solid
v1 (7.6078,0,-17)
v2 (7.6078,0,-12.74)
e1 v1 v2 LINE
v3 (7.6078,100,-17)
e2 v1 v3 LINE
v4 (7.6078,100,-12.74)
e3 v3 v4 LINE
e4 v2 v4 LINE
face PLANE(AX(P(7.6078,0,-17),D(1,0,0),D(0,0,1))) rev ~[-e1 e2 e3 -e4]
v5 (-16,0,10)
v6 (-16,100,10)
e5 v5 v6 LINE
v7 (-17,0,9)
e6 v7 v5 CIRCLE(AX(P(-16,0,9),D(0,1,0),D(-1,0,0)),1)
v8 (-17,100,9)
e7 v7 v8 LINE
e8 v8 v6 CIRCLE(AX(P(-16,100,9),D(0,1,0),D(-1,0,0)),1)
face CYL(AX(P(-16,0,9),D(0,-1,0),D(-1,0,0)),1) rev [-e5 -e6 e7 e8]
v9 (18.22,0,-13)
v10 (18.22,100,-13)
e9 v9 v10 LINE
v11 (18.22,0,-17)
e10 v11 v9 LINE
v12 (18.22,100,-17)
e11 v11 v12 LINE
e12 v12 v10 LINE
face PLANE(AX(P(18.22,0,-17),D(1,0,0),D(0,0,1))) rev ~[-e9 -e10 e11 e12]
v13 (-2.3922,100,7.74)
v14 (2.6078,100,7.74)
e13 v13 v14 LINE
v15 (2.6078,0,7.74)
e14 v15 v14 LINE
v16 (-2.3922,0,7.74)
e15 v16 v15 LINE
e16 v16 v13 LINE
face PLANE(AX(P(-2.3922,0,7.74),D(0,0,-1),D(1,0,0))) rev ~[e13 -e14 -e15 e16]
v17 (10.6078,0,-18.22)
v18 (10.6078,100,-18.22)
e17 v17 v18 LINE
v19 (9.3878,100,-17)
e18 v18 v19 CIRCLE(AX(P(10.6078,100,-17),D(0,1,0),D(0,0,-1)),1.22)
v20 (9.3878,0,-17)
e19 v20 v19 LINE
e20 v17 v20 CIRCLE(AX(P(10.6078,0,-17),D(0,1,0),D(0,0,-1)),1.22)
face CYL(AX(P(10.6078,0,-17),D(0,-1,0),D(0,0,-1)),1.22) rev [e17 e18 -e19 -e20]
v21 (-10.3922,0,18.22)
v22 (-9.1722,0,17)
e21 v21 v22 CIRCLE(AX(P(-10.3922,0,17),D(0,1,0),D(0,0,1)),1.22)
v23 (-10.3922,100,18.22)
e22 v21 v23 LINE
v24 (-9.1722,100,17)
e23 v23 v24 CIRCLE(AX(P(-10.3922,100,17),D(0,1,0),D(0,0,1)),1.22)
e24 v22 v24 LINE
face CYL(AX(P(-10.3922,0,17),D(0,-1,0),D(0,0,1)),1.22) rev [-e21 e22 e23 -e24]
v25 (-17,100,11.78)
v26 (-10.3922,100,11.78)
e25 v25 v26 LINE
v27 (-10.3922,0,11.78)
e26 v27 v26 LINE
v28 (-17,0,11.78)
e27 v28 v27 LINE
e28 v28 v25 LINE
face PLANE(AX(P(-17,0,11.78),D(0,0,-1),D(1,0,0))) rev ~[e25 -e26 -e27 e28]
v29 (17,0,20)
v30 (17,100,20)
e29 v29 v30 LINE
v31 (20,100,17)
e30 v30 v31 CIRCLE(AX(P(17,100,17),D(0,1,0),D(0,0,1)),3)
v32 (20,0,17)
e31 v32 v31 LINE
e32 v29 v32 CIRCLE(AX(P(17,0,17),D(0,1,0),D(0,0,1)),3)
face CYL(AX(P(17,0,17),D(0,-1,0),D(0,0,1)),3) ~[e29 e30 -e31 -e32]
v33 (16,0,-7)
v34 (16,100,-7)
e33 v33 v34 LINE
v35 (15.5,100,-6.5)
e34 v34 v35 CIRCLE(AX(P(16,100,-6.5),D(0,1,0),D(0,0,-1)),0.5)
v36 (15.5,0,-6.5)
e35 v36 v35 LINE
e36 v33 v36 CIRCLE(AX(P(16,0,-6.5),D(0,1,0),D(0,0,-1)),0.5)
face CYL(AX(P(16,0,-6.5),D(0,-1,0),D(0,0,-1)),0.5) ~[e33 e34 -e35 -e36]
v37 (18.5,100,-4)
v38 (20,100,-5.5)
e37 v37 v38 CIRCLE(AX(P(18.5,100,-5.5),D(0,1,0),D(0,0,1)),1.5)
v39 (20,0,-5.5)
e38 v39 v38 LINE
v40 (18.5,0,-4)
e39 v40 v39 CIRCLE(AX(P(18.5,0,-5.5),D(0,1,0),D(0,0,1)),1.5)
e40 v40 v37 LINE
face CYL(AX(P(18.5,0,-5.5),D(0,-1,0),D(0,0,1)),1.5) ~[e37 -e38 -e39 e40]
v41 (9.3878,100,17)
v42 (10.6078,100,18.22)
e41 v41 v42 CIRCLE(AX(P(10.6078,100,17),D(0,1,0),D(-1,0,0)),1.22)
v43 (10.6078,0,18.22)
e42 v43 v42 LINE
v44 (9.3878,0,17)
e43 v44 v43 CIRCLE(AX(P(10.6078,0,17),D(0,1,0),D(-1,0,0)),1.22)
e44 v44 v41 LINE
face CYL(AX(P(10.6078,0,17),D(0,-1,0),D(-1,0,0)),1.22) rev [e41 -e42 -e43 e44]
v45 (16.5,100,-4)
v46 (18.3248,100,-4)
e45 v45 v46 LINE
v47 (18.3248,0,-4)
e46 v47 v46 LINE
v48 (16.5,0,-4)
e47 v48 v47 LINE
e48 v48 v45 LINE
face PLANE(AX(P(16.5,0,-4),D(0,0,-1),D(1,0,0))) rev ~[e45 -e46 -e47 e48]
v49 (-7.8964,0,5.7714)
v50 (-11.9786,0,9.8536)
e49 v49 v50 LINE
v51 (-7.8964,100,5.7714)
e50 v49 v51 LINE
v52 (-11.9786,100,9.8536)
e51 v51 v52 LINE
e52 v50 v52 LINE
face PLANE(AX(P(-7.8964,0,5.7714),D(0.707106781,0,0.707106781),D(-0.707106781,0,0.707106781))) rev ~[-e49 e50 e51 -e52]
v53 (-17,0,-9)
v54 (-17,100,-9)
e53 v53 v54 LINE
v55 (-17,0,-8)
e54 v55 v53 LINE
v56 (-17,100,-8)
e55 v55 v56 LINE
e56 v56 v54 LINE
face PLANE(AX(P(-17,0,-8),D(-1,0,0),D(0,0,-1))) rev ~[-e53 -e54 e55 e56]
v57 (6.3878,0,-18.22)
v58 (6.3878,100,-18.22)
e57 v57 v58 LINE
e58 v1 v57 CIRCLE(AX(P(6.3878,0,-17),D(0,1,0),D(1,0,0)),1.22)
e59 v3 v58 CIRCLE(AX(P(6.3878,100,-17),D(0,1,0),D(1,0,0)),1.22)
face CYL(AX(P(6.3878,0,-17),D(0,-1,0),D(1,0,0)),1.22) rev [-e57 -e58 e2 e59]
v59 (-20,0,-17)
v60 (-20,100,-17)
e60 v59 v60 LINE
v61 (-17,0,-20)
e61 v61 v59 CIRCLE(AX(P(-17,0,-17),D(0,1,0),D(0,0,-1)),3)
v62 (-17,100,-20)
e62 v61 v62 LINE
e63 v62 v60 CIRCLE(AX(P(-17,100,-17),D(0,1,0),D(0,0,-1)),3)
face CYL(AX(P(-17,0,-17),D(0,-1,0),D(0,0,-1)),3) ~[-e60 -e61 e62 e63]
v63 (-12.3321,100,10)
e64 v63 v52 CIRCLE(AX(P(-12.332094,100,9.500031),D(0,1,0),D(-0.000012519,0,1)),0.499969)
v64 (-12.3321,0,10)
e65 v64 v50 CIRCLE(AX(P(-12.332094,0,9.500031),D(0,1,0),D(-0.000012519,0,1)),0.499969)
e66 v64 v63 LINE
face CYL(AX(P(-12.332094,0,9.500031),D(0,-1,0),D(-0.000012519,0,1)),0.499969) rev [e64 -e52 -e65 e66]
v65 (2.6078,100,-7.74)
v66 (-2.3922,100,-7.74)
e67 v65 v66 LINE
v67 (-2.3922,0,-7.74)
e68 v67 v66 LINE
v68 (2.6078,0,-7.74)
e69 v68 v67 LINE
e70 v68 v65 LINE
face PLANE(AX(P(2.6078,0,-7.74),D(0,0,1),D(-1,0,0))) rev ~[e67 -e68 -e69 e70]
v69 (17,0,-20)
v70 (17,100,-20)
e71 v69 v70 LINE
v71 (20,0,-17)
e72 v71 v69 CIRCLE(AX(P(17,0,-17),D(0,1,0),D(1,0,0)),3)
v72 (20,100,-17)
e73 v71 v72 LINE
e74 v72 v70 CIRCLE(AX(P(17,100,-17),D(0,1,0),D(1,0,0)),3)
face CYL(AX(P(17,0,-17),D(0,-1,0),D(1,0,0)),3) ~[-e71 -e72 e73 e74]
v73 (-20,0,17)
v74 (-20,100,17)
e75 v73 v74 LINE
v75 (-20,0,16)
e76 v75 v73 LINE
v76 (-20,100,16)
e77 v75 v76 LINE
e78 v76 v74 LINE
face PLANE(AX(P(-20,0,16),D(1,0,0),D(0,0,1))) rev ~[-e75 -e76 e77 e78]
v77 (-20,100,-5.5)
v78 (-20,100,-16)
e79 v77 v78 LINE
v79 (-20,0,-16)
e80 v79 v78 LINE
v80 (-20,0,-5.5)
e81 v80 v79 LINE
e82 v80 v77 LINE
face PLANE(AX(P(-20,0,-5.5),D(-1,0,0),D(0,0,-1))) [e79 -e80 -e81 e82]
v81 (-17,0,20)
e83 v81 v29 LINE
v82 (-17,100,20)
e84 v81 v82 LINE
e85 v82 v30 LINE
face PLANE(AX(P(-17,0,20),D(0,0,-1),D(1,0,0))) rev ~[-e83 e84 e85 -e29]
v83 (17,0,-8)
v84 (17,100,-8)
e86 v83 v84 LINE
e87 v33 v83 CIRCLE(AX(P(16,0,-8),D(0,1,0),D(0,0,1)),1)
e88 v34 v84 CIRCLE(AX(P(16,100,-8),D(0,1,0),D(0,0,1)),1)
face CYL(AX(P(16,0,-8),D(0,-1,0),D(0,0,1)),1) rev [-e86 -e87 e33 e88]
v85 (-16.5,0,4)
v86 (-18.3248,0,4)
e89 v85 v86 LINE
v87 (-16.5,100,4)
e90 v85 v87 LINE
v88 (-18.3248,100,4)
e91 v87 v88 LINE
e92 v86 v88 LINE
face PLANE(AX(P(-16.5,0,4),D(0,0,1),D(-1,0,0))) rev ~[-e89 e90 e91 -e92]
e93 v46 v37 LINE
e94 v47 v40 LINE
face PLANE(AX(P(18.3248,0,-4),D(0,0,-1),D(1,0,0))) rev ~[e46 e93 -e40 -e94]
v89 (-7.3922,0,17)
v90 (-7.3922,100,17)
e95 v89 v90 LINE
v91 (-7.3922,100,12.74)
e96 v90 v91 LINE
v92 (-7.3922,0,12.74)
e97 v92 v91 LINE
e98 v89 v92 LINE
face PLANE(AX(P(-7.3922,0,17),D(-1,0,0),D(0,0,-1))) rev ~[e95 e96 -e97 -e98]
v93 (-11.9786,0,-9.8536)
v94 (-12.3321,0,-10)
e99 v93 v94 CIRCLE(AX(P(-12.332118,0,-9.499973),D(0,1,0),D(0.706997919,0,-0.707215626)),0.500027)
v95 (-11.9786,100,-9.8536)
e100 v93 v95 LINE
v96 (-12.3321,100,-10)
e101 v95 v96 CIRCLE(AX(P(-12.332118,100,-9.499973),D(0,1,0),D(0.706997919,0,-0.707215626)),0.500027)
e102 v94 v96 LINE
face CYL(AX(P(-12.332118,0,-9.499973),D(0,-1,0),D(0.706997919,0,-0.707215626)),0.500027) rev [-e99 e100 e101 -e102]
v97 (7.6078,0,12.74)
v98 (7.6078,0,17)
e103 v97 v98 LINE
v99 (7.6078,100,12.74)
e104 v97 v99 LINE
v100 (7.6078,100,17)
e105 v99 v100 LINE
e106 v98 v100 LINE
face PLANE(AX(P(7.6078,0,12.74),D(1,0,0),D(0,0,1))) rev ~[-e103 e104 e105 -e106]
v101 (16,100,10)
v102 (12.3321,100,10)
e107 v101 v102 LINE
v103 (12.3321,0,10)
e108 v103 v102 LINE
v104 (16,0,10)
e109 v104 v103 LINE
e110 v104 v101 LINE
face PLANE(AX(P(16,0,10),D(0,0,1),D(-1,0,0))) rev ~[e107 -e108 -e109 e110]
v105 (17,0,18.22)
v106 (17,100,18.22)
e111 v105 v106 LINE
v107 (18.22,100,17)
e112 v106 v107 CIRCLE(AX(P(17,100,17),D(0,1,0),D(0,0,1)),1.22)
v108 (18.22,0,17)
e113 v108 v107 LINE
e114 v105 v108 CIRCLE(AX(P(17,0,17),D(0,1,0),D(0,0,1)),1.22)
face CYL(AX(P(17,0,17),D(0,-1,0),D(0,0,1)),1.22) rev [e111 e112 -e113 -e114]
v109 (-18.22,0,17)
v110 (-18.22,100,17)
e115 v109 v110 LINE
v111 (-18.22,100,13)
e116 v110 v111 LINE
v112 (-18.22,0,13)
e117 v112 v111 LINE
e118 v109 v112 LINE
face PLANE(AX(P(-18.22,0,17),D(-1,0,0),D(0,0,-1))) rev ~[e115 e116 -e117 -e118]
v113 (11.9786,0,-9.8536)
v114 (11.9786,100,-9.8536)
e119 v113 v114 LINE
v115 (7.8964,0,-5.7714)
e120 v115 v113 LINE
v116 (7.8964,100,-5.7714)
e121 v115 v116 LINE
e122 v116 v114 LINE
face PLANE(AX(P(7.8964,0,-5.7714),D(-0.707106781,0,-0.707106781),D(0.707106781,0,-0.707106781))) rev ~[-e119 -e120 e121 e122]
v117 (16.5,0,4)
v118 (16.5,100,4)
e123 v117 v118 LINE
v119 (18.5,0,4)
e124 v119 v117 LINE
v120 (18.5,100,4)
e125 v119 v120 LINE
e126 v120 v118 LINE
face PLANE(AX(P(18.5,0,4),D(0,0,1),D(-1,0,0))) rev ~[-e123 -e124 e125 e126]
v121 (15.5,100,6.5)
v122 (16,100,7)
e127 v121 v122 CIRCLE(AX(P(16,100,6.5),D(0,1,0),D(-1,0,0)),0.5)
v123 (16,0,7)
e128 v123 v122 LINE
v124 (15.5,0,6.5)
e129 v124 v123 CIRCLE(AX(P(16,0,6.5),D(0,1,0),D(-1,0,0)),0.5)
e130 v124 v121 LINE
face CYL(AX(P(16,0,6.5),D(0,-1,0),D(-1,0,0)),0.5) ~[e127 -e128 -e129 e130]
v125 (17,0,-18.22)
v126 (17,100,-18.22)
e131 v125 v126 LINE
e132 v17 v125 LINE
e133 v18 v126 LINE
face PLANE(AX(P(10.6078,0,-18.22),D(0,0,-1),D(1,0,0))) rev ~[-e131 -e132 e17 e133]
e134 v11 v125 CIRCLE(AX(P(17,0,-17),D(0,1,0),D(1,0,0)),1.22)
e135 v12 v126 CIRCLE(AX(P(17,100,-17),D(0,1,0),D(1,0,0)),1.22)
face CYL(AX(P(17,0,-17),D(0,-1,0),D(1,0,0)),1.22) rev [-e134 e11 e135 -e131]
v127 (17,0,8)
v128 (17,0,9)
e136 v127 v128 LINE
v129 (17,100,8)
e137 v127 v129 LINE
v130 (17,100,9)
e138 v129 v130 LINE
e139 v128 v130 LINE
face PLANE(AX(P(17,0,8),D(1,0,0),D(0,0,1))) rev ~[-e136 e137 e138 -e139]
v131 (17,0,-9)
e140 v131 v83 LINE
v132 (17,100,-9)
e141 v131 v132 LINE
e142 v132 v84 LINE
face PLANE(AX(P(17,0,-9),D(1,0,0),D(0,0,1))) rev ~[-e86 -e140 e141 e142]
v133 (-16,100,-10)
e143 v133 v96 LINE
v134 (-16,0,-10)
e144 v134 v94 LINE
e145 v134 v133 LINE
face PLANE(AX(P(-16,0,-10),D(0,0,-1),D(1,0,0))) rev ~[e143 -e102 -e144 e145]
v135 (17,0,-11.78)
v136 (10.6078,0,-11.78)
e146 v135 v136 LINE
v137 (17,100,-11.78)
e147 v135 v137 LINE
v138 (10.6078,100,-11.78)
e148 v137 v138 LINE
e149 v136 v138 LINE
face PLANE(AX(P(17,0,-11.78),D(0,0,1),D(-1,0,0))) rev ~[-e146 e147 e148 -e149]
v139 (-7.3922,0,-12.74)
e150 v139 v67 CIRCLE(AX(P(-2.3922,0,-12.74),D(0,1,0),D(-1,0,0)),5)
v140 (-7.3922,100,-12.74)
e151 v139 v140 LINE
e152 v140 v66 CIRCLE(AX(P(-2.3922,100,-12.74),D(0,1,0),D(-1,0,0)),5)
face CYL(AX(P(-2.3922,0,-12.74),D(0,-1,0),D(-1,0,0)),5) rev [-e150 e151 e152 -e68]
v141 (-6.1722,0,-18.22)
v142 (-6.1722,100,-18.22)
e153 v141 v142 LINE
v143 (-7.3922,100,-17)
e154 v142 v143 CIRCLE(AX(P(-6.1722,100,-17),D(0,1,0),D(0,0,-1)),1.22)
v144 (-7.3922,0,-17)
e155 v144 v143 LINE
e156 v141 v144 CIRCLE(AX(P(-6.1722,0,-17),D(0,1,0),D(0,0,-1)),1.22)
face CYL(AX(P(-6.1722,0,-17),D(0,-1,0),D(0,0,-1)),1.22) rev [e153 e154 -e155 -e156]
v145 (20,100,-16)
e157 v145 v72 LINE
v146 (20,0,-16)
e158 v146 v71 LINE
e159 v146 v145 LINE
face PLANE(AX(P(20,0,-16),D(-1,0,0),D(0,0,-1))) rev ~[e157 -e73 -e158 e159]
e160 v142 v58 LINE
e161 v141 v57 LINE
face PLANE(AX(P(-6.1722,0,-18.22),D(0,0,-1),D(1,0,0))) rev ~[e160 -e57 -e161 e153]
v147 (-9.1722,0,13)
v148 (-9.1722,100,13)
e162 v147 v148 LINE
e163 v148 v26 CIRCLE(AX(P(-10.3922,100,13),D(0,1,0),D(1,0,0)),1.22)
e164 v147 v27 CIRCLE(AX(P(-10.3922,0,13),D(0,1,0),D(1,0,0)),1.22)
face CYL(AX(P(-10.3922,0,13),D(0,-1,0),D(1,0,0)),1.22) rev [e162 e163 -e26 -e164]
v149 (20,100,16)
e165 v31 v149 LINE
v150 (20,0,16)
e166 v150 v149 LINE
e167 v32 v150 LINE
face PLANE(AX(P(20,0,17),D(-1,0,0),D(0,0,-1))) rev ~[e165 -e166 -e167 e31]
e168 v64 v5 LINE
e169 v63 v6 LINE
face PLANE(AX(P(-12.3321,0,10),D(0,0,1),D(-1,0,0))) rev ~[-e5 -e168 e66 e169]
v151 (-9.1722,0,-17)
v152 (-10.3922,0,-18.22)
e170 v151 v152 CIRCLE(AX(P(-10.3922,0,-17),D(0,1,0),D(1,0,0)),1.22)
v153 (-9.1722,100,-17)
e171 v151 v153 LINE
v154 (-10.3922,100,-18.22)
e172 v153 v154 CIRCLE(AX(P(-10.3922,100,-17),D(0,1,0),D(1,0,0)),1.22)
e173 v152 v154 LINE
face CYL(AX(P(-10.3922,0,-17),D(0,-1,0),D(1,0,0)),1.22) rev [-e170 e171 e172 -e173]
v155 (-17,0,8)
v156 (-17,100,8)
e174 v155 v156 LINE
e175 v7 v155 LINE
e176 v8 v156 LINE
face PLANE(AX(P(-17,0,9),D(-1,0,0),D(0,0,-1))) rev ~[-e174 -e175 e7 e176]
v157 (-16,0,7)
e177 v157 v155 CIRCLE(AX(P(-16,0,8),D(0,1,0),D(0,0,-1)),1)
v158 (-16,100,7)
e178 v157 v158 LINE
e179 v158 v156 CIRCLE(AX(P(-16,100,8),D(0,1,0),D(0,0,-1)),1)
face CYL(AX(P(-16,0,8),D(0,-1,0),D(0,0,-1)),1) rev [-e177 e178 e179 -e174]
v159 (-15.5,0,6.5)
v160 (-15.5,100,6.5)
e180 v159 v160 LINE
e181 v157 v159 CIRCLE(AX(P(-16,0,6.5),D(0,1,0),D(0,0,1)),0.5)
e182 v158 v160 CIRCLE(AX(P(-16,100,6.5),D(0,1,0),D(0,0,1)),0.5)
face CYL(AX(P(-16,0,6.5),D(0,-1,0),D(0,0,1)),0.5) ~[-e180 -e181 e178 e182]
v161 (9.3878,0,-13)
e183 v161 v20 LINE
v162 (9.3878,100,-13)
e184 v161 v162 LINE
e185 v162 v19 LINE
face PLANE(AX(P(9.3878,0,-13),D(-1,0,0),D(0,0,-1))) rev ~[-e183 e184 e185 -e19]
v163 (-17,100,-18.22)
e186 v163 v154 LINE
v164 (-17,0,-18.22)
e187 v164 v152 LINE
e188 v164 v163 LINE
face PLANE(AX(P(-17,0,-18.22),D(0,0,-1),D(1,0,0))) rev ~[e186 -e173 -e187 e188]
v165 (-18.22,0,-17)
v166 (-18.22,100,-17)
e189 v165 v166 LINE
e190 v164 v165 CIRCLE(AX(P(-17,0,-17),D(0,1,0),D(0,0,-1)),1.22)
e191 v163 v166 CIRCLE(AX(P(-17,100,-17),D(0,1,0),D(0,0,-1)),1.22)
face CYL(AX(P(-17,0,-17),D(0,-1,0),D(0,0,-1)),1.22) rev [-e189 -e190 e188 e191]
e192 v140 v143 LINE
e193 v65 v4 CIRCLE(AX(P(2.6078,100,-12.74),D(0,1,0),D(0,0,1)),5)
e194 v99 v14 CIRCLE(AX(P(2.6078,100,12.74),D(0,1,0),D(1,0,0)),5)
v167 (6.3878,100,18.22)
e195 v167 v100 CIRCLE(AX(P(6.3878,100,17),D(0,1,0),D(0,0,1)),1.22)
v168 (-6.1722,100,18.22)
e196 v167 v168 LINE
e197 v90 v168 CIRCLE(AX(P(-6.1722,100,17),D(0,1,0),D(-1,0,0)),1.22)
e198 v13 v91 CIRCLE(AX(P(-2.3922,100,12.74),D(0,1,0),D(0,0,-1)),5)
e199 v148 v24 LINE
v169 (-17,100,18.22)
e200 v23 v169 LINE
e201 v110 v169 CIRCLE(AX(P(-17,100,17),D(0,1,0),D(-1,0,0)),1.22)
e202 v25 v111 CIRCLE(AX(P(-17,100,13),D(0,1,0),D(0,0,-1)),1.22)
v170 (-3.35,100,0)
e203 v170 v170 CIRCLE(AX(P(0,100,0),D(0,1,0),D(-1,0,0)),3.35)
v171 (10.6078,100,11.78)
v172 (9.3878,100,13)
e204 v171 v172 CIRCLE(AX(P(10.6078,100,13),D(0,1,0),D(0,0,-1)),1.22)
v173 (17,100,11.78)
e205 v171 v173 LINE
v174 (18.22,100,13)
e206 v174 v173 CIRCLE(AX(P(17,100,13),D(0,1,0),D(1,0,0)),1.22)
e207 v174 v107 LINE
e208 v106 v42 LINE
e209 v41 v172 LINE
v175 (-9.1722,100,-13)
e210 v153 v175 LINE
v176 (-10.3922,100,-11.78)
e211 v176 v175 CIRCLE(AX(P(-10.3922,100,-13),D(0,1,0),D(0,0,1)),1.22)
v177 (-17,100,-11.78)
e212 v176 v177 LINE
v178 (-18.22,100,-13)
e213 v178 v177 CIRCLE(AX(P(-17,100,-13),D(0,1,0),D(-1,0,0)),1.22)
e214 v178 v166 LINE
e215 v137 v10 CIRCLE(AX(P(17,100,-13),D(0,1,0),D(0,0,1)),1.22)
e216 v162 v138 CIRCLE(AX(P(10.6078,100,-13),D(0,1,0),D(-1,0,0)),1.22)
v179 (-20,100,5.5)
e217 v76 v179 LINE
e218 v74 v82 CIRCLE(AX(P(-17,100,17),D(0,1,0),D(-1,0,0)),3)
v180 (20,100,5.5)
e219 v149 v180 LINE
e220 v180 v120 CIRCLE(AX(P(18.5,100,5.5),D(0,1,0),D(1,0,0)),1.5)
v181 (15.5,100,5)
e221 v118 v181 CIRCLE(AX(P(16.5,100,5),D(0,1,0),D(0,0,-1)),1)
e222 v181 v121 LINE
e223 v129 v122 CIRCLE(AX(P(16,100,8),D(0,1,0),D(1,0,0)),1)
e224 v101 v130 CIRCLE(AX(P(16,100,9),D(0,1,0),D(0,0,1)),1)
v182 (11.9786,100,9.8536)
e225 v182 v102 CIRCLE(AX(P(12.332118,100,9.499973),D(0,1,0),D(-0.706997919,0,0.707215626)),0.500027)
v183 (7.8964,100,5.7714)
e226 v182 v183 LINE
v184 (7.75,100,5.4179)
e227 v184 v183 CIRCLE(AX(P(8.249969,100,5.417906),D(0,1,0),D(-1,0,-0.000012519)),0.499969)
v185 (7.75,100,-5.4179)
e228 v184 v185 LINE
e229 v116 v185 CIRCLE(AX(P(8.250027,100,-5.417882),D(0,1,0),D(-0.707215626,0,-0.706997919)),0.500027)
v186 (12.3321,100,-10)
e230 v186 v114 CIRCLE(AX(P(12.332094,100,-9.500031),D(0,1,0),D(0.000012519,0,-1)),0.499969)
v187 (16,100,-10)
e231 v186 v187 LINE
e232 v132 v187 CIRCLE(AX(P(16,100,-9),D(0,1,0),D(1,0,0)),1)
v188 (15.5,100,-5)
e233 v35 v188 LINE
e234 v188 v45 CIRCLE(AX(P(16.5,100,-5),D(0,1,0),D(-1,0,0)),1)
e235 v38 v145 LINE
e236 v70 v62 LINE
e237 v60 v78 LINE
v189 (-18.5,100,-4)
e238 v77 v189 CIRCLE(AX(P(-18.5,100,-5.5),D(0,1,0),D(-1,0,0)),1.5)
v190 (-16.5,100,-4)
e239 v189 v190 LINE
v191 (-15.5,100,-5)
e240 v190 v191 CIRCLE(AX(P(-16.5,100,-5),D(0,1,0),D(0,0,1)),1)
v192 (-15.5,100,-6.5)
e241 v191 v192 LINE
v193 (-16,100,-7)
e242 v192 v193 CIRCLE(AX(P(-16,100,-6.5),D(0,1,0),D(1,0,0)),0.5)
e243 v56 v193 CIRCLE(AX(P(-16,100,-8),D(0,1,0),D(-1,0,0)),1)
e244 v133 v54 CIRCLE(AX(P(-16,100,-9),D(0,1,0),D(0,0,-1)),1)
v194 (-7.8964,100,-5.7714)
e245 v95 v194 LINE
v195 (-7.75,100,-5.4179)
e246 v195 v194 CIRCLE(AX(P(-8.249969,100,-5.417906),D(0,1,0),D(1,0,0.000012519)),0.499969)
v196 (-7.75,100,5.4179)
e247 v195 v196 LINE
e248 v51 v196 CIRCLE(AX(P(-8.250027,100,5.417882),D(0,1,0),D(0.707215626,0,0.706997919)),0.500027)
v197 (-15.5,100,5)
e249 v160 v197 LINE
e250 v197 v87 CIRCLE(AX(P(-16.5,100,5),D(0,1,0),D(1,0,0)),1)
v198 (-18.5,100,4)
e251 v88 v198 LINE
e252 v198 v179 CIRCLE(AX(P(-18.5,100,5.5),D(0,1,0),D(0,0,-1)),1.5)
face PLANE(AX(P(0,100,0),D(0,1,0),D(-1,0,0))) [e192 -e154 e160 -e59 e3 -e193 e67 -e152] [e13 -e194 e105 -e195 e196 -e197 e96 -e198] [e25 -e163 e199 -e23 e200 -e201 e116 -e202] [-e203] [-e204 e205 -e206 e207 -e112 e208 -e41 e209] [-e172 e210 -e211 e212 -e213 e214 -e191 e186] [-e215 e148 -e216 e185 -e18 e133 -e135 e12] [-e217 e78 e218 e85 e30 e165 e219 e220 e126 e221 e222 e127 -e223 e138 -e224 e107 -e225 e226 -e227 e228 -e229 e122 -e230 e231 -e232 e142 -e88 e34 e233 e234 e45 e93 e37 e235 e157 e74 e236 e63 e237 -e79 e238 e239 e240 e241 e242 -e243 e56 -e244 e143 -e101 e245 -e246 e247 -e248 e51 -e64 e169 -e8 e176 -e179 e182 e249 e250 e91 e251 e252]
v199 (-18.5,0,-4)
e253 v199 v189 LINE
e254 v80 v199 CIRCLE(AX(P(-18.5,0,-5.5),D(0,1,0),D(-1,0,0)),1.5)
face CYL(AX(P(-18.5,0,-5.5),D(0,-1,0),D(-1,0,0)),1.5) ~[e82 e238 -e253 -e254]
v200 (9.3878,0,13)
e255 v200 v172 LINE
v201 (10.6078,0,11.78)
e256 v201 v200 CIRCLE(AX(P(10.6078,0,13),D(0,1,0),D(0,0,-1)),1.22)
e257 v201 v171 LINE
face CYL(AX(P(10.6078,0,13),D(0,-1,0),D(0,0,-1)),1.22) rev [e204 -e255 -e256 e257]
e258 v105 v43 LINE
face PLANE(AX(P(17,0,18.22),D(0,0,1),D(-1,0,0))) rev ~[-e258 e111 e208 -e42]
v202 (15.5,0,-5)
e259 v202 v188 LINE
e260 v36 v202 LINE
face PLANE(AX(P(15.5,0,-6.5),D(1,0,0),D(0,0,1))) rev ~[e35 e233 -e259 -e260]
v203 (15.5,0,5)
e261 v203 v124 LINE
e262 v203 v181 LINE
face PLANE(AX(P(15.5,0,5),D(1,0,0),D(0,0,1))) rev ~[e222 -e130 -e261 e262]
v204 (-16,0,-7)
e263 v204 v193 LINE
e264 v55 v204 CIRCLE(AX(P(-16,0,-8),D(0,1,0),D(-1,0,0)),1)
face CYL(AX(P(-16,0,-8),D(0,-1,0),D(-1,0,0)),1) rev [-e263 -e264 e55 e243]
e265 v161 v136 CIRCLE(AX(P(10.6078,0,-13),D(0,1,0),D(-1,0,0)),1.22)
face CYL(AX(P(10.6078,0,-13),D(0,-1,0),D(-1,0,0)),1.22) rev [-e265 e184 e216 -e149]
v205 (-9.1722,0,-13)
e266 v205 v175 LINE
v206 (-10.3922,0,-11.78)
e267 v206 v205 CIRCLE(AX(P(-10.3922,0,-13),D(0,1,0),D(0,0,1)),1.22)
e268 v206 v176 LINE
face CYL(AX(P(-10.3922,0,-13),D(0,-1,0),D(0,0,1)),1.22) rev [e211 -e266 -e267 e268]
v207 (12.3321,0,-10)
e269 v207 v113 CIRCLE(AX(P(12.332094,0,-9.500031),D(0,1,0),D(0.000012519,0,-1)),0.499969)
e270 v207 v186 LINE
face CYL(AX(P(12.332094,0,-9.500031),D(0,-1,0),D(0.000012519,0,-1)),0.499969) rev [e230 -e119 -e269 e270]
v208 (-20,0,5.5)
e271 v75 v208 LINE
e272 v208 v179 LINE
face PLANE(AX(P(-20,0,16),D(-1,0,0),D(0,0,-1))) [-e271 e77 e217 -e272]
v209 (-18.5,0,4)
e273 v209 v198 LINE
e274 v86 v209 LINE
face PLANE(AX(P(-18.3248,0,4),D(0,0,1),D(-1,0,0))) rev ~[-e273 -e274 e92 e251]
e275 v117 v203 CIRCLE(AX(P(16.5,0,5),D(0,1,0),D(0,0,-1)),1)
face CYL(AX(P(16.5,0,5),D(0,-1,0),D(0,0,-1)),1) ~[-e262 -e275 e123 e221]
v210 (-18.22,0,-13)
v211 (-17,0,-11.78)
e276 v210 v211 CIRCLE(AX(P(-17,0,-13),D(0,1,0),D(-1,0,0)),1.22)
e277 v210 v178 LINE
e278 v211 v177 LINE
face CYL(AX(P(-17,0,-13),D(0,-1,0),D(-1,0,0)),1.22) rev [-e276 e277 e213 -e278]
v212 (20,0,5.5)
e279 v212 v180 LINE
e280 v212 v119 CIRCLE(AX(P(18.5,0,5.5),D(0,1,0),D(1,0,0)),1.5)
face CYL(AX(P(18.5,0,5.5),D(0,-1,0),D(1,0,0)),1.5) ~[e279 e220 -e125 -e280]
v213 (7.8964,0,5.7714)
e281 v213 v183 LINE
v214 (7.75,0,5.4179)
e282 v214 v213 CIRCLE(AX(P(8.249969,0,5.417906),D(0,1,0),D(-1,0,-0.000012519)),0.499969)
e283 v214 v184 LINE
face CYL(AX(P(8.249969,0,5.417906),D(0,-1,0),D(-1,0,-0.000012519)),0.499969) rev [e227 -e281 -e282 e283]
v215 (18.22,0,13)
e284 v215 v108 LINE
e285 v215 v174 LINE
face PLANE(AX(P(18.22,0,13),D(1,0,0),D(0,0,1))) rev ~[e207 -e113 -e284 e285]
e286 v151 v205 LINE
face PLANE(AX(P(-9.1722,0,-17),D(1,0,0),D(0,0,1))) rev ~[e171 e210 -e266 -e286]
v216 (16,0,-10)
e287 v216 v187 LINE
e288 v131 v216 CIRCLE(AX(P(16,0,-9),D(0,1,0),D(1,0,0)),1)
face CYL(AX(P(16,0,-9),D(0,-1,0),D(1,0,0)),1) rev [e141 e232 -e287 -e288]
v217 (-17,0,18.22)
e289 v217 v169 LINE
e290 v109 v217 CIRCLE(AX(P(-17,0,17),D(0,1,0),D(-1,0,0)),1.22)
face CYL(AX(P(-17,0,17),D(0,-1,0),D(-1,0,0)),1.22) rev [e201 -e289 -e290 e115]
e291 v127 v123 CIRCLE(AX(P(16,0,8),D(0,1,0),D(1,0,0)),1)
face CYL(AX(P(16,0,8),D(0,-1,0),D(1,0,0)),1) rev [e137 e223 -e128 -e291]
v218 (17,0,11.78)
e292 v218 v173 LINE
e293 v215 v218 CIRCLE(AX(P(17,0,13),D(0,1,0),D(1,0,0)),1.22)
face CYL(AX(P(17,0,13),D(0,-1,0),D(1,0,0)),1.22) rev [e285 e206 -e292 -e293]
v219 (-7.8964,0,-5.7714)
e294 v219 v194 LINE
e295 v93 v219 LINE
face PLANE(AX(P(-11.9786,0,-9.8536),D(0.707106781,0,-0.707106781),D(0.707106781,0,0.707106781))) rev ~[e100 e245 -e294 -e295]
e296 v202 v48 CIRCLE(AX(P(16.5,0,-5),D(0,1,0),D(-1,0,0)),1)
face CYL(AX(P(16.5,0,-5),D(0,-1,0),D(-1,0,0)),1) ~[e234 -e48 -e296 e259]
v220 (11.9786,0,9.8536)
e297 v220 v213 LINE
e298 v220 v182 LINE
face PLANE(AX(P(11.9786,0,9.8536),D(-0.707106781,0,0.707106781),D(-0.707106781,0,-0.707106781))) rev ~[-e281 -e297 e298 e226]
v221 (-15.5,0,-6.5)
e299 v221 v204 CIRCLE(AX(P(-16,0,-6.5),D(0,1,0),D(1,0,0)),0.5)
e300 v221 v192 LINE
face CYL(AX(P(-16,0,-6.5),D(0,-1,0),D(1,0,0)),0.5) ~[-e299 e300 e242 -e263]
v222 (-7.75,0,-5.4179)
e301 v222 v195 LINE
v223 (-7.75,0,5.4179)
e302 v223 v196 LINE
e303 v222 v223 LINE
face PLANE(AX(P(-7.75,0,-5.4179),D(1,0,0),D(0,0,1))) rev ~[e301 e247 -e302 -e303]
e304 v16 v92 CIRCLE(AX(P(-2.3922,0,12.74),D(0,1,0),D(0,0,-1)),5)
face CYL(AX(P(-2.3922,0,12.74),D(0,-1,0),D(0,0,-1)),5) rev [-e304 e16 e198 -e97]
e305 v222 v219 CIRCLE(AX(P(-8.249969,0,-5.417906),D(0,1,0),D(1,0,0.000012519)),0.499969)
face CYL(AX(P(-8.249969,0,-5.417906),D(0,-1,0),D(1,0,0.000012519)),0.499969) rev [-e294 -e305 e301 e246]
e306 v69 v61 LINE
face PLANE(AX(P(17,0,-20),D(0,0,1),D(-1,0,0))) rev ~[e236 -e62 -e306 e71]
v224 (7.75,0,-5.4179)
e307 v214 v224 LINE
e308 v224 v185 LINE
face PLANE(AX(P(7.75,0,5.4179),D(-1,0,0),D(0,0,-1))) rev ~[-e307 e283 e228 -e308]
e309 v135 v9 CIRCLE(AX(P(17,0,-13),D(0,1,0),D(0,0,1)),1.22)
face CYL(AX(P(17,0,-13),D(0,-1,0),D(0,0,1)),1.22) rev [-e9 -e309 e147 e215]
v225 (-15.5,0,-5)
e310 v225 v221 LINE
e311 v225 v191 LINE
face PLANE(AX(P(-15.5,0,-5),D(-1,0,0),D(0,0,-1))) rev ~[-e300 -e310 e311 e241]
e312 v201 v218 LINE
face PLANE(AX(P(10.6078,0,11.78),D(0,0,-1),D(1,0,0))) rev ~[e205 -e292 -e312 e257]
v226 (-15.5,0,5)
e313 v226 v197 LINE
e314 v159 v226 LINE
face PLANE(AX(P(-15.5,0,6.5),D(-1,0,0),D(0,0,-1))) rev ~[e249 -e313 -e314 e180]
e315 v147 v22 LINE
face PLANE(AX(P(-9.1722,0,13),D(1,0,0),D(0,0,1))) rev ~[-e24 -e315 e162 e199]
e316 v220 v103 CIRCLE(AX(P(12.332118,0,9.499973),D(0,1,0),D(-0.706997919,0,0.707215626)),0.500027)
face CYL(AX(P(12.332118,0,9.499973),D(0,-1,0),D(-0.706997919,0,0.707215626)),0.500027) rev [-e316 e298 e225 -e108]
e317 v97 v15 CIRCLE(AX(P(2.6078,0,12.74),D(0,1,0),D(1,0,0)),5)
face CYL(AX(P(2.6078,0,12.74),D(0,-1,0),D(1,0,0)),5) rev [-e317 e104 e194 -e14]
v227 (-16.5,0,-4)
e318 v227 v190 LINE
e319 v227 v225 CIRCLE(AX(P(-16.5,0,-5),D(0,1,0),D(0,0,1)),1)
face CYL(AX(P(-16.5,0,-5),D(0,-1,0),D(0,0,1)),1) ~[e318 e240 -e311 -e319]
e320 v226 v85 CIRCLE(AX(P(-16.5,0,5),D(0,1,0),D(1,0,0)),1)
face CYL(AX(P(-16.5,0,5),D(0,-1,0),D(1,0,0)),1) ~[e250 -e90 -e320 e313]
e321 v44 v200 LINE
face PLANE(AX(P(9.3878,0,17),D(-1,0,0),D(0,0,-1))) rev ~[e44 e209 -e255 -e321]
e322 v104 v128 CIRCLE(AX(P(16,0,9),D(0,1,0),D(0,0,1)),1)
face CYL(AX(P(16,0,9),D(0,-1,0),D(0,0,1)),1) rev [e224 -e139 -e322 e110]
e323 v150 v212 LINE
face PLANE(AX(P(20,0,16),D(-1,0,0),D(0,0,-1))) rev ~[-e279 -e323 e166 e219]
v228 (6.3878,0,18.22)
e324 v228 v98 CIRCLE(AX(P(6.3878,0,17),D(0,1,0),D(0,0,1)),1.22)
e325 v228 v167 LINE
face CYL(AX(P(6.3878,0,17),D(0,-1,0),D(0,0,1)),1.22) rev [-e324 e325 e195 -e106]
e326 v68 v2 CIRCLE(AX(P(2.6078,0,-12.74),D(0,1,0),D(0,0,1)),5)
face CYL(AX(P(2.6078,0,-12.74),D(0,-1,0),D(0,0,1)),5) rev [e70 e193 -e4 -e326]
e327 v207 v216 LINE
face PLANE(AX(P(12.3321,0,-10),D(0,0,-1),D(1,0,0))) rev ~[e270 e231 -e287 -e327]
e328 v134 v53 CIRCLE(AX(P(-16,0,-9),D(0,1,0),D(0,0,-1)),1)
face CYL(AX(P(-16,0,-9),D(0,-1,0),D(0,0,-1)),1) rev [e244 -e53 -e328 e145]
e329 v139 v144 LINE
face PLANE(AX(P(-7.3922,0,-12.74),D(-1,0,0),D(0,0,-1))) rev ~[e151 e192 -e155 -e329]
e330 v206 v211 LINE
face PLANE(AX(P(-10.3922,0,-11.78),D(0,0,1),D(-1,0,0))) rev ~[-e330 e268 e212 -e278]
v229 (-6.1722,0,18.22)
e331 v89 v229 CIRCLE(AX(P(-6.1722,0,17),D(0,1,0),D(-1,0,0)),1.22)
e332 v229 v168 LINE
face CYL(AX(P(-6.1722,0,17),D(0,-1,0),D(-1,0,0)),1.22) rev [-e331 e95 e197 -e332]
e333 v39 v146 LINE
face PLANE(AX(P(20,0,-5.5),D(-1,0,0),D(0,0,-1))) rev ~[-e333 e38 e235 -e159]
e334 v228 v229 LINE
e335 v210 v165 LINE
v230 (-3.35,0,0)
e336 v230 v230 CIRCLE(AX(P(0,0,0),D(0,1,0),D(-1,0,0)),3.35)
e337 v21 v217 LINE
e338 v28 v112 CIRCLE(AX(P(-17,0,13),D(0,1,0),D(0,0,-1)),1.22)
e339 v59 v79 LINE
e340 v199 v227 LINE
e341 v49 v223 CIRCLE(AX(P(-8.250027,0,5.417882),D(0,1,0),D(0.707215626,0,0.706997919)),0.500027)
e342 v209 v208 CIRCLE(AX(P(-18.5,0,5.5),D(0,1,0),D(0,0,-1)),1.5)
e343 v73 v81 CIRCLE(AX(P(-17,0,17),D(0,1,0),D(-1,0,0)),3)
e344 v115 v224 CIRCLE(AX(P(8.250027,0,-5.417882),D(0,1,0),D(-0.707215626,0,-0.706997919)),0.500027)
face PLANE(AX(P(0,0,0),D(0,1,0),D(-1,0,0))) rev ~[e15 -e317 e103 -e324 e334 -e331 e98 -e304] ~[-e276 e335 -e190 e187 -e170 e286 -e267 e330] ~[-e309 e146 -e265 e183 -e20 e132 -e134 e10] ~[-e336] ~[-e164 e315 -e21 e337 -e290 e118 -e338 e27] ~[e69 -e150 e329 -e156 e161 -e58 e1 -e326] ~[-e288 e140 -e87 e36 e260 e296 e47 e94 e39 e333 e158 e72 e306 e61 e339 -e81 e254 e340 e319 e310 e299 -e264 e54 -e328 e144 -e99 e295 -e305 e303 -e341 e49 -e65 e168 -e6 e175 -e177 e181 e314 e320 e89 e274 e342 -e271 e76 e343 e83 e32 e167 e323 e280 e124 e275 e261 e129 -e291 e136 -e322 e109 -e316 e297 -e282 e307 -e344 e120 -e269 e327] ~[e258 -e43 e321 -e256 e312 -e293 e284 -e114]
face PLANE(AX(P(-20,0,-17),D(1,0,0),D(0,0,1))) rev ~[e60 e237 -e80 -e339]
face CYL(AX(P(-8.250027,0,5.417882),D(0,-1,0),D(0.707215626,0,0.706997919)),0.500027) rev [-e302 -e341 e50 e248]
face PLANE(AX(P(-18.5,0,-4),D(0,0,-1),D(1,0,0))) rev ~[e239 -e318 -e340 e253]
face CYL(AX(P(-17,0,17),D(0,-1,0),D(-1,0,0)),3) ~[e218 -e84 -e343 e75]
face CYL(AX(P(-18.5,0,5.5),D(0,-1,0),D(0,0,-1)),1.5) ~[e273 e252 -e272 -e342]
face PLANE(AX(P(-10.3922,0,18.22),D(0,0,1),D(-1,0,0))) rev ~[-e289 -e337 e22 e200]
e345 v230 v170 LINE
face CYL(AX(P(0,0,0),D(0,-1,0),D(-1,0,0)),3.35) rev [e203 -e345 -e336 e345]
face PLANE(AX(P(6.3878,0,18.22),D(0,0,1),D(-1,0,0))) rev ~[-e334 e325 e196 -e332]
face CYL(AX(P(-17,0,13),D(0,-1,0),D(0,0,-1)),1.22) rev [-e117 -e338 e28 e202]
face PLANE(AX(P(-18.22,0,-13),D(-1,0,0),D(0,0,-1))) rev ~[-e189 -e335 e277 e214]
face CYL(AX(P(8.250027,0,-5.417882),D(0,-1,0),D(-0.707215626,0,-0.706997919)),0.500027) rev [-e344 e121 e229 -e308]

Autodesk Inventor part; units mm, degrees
ref_plane "YZ Plane" through (0, 0, 0) normal (1, 0, 0) x (0, 1, 0)
ref_plane "Start Plane" through (0, 0, 0) normal (0, 1, 0) x (-1, 0, 0)
ref_plane "End Plane" through (0, 100, 0) normal (0, 1, 0) x (-1, 0, 0)
sketch "Sketch1" plane through (0, 0, 0) normal (0, 1, 0) x (-1, 0, 0)
  line L0 (-7.6078, -17) -> (-7.6078, -12.74)
  arc A0 (-2.6078, -7.74) -> (-7.6078, -12.74) centre (-2.6078, -12.74) ccw
  line L1 (-2.6078, -7.74) -> (2.3922, -7.74)
  arc A1 (7.3922, -12.74) -> (2.3922, -7.74) centre (2.3922, -12.74) ccw
  line L2 (7.3922, -12.74) -> (7.3922, -17)
  arc A2 (6.1722, -18.22) -> (7.3922, -17) centre (6.1722, -17) ccw
  line L3 (6.1722, -18.22) -> (-6.3878, -18.22)
  arc A3 (-7.6078, -17) -> (-6.3878, -18.22) centre (-6.3878, -17) ccw
  line L4 (9.1722, -17) -> (9.1722, -13)
  arc A4 (10.3922, -11.78) -> (9.1722, -13) centre (10.3922, -13) ccw
  line L5 (10.3922, -11.78) -> (17, -11.78)
  arc A5 (18.22, -13) -> (17, -11.78) centre (17, -13) ccw
  line L6 (18.22, -13) -> (18.22, -17)
  arc A6 (17, -18.22) -> (18.22, -17) centre (17, -17) ccw
  line L7 (17, -18.22) -> (10.3922, -18.22)
  arc A7 (9.1722, -17) -> (10.3922, -18.22) centre (10.3922, -17) ccw
  line L8 (-18.22, 13) -> (-18.22, 17)
  arc A8 (-17, 18.22) -> (-18.22, 17) centre (-17, 17) ccw
  line L9 (-17, 18.22) -> (-10.6078, 18.22)
  arc A9 (-9.3878, 17) -> (-10.6078, 18.22) centre (-10.6078, 17) ccw
  line L10 (-9.3878, 17) -> (-9.3878, 13)
  arc A10 (-10.6078, 11.78) -> (-9.3878, 13) centre (-10.6078, 13) ccw
  line L11 (-10.6078, 11.78) -> (-17, 11.78)
  arc A11 (-18.22, 13) -> (-17, 11.78) centre (-17, 13) ccw
  line L12 (9.1722, 13) -> (9.1722, 17)
  arc A12 (10.3922, 18.22) -> (9.1722, 17) centre (10.3922, 17) ccw
  line L13 (10.3922, 18.22) -> (17, 18.22)
  arc A13 (18.22, 17) -> (17, 18.22) centre (17, 17) ccw
  line L14 (18.22, 17) -> (18.22, 13)
  arc A14 (17, 11.78) -> (18.22, 13) centre (17, 13) ccw
  line L15 (17, 11.78) -> (10.3922, 11.78)
  arc A15 (9.1722, 13) -> (10.3922, 11.78) centre (10.3922, 13) ccw
  line L16 (-18.22, -17) -> (-18.22, -13)
  arc A16 (-17, -11.78) -> (-18.22, -13) centre (-17, -13) ccw
  line L17 (-17, -11.78) -> (-10.6078, -11.78)
  arc A17 (-9.3878, -13) -> (-10.6078, -11.78) centre (-10.6078, -13) ccw
  line L18 (-9.3878, -13) -> (-9.3878, -17)
  arc A18 (-10.6078, -18.22) -> (-9.3878, -17) centre (-10.6078, -17) ccw
  line L19 (-10.6078, -18.22) -> (-17, -18.22)
  arc A19 (-18.22, -17) -> (-17, -18.22) centre (-17, -17) ccw
  line L20 (-7.6078, 12.74) -> (-7.6078, 17)
  arc A20 (-6.3878, 18.22) -> (-7.6078, 17) centre (-6.3878, 17) ccw
  line L21 (-6.3878, 18.22) -> (6.1722, 18.22)
  arc A21 (7.3922, 17) -> (6.1722, 18.22) centre (6.1722, 17) ccw
  line L22 (7.3922, 17) -> (7.3922, 12.74)
  arc A22 (2.3922, 7.74) -> (7.3922, 12.74) centre (2.3922, 12.74) ccw
  line L23 (2.3922, 7.74) -> (-2.6078, 7.74)
  arc A23 (-7.6078, 12.74) -> (-2.6078, 7.74) centre (-2.6078, 12.74) ccw
  arc A24 (-16, -7) -> (-15.5, -6.5) centre (-16, -6.5) ccw
  line L24 (-15.5, -6.5) -> (-15.5, -5)
  arc A25 (-15.5, -5) -> (-16.5, -4) centre (-16.5, -5) ccw
  line L25 (-16.5, -4) -> (-18.3248, -4)
  line L26 (-20, -16) -> (-20, -17)
  arc A26 (-20, -17) -> (-17, -20) centre (-17, -17) ccw
  line L27 (-17, -20) -> (17, -20)
  line L28 (20, -17) -> (20, -16)
  line L29 (18.5, -4) -> (16.5, -4)
  line L30 (-17, -9) -> (-17, -8)
  arc A27 (20, -5.5) -> (18.5, -4) centre (18.5, -5.5) ccw
  arc A28 (16.5, -4) -> (15.5, -5) centre (16.5, -5) ccw
  line L31 (15.5, -5) -> (15.5, -6.5)
  arc A29 (15.5, -6.5) -> (16, -7) centre (16, -6.5) ccw
  arc A30 (17, -8) -> (16, -7) centre (16, -8) ccw
  line L32 (17, -8) -> (17, -9)
  arc A31 (16, -10) -> (17, -9) centre (16, -9) ccw
  line L33 (16, -10) -> (12.3321, -10)
  arc A32 (11.9786, -9.8536) -> (12.3321, -10) centre (12.3321, -9.5) ccw
  line L34 (11.9786, -9.8536) -> (7.8964, -5.7714)
  arc A33 (7.75, -5.4179) -> (7.8964, -5.7714) centre (8.25, -5.4179) ccw
  line L35 (7.75, -5.4179) -> (7.75, 5.4179)
  arc A34 (7.8964, 5.7714) -> (7.75, 5.4179) centre (8.25, 5.4179) ccw
  line L36 (7.8964, 5.7714) -> (11.9786, 9.8536)
  arc A35 (12.3321, 10) -> (11.9786, 9.8536) centre (12.3321, 9.5) ccw
  line L37 (12.3321, 10) -> (16, 10)
  arc A36 (17, 9) -> (16, 10) centre (16, 9) ccw
  line L38 (17, 9) -> (17, 8)
  arc A37 (16, 7) -> (17, 8) centre (16, 8) ccw
  arc A38 (16, 7) -> (15.5, 6.5) centre (16, 6.5) ccw
  line L39 (15.5, 6.5) -> (15.5, 5)
  arc A39 (15.5, 5) -> (16.5, 4) centre (16.5, 5) ccw
  line L40 (16.5, 4) -> (18.3248, 4)
  line L41 (20, 16) -> (20, 17)
  line L42 (17, 20) -> (-17, 20)
  arc A40 (-17, 20) -> (-20, 17) centre (-17, 17) ccw
  line L43 (-20, 17) -> (-20, 16)
  line L44 (-18.5, 4) -> (-16.5, 4)
  arc A41 (-20, 5.5) -> (-18.5, 4) centre (-18.5, 5.5) ccw
  arc A42 (-16.5, 4) -> (-15.5, 5) centre (-16.5, 5) ccw
  line L45 (-15.5, 5) -> (-15.5, 6.5)
  arc A43 (-15.5, 6.5) -> (-16, 7) centre (-16, 6.5) ccw
  arc A44 (-17, 8) -> (-16, 7) centre (-16, 8) ccw
  line L46 (-17, 8) -> (-17, 9)
  arc A45 (-16, 10) -> (-17, 9) centre (-16, 9) ccw
  line L47 (-16, 10) -> (-12.3321, 10)
  arc A46 (-11.9786, 9.8536) -> (-12.3321, 10) centre (-12.3321, 9.5) ccw
  line L48 (-11.9786, 9.8536) -> (-7.8964, 5.7714)
  arc A47 (-7.75, 5.4179) -> (-7.8964, 5.7714) centre (-8.25, 5.4179) ccw
  line L49 (-7.75, 5.4179) -> (-7.75, -5.4179)
  arc A48 (-7.8964, -5.7714) -> (-7.75, -5.4179) centre (-8.25, -5.4179) ccw
  line L50 (-7.8964, -5.7714) -> (-11.9786, -9.8536)
  arc A49 (-12.3321, -10) -> (-11.9786, -9.8536) centre (-12.3321, -9.5) ccw
  line L51 (-12.3321, -10) -> (-16, -10)
  arc A50 (-17, -9) -> (-16, -10) centre (-16, -9) ccw
  arc A51 (-16, -7) -> (-17, -8) centre (-16, -8) ccw
  circle A52 centre (0, 0) radius 3.35
  line L52 (-20, 17) -> (-20, 5.5)
  line L53 (20, 17) -> (20, 5.5)
  arc A53 (18.5, 4) -> (20, 5.5) centre (18.5, 5.5) ccw
  arc A54 (20, 17) -> (17, 20) centre (17, 17) ccw
  line L54 (18.3248, 4) -> (18.5, 4)
  line L55 (20, -5.5) -> (20, -17)
  arc A55 (17, -20) -> (20, -17) centre (17, -17) ccw
  line L56 (-20, -5.5) -> (-20, -17)
  line L57 (-18.3248, -4) -> (-18.5, -4)
  arc A56 (-18.5, -4) -> (-20, -5.5) centre (-18.5, -5.5) ccw
extrude "Body" add sketch "Sketch1" along normal up to surface (100 mm away) from surface at 0
sketch "Sketch2" plane through (0, 0, 0) normal (0, 1, 0) x (-1, 0, 0)
  line L0 (0, 0) -> (10, 0)
ref_plane "Work Plane3" through (0, 0, 0) normal (0, 0, -1) x (-1, 0, 0)
sketch "Sketch3" plane through (0, 0, 0) normal (0, 0, -1) x (-1, 0, 0)
  line L0 (-28, 0) -> (28, 0)
  line L1 (-28, 100) -> (28, 100)
  dimension "d7" = 100
equation "\"G_OFFSET_START\" = 0"
equation "\"G_OFFSET_END\" = 0"
equation "\"G_L\" = d7"
properties part number "10-240"
